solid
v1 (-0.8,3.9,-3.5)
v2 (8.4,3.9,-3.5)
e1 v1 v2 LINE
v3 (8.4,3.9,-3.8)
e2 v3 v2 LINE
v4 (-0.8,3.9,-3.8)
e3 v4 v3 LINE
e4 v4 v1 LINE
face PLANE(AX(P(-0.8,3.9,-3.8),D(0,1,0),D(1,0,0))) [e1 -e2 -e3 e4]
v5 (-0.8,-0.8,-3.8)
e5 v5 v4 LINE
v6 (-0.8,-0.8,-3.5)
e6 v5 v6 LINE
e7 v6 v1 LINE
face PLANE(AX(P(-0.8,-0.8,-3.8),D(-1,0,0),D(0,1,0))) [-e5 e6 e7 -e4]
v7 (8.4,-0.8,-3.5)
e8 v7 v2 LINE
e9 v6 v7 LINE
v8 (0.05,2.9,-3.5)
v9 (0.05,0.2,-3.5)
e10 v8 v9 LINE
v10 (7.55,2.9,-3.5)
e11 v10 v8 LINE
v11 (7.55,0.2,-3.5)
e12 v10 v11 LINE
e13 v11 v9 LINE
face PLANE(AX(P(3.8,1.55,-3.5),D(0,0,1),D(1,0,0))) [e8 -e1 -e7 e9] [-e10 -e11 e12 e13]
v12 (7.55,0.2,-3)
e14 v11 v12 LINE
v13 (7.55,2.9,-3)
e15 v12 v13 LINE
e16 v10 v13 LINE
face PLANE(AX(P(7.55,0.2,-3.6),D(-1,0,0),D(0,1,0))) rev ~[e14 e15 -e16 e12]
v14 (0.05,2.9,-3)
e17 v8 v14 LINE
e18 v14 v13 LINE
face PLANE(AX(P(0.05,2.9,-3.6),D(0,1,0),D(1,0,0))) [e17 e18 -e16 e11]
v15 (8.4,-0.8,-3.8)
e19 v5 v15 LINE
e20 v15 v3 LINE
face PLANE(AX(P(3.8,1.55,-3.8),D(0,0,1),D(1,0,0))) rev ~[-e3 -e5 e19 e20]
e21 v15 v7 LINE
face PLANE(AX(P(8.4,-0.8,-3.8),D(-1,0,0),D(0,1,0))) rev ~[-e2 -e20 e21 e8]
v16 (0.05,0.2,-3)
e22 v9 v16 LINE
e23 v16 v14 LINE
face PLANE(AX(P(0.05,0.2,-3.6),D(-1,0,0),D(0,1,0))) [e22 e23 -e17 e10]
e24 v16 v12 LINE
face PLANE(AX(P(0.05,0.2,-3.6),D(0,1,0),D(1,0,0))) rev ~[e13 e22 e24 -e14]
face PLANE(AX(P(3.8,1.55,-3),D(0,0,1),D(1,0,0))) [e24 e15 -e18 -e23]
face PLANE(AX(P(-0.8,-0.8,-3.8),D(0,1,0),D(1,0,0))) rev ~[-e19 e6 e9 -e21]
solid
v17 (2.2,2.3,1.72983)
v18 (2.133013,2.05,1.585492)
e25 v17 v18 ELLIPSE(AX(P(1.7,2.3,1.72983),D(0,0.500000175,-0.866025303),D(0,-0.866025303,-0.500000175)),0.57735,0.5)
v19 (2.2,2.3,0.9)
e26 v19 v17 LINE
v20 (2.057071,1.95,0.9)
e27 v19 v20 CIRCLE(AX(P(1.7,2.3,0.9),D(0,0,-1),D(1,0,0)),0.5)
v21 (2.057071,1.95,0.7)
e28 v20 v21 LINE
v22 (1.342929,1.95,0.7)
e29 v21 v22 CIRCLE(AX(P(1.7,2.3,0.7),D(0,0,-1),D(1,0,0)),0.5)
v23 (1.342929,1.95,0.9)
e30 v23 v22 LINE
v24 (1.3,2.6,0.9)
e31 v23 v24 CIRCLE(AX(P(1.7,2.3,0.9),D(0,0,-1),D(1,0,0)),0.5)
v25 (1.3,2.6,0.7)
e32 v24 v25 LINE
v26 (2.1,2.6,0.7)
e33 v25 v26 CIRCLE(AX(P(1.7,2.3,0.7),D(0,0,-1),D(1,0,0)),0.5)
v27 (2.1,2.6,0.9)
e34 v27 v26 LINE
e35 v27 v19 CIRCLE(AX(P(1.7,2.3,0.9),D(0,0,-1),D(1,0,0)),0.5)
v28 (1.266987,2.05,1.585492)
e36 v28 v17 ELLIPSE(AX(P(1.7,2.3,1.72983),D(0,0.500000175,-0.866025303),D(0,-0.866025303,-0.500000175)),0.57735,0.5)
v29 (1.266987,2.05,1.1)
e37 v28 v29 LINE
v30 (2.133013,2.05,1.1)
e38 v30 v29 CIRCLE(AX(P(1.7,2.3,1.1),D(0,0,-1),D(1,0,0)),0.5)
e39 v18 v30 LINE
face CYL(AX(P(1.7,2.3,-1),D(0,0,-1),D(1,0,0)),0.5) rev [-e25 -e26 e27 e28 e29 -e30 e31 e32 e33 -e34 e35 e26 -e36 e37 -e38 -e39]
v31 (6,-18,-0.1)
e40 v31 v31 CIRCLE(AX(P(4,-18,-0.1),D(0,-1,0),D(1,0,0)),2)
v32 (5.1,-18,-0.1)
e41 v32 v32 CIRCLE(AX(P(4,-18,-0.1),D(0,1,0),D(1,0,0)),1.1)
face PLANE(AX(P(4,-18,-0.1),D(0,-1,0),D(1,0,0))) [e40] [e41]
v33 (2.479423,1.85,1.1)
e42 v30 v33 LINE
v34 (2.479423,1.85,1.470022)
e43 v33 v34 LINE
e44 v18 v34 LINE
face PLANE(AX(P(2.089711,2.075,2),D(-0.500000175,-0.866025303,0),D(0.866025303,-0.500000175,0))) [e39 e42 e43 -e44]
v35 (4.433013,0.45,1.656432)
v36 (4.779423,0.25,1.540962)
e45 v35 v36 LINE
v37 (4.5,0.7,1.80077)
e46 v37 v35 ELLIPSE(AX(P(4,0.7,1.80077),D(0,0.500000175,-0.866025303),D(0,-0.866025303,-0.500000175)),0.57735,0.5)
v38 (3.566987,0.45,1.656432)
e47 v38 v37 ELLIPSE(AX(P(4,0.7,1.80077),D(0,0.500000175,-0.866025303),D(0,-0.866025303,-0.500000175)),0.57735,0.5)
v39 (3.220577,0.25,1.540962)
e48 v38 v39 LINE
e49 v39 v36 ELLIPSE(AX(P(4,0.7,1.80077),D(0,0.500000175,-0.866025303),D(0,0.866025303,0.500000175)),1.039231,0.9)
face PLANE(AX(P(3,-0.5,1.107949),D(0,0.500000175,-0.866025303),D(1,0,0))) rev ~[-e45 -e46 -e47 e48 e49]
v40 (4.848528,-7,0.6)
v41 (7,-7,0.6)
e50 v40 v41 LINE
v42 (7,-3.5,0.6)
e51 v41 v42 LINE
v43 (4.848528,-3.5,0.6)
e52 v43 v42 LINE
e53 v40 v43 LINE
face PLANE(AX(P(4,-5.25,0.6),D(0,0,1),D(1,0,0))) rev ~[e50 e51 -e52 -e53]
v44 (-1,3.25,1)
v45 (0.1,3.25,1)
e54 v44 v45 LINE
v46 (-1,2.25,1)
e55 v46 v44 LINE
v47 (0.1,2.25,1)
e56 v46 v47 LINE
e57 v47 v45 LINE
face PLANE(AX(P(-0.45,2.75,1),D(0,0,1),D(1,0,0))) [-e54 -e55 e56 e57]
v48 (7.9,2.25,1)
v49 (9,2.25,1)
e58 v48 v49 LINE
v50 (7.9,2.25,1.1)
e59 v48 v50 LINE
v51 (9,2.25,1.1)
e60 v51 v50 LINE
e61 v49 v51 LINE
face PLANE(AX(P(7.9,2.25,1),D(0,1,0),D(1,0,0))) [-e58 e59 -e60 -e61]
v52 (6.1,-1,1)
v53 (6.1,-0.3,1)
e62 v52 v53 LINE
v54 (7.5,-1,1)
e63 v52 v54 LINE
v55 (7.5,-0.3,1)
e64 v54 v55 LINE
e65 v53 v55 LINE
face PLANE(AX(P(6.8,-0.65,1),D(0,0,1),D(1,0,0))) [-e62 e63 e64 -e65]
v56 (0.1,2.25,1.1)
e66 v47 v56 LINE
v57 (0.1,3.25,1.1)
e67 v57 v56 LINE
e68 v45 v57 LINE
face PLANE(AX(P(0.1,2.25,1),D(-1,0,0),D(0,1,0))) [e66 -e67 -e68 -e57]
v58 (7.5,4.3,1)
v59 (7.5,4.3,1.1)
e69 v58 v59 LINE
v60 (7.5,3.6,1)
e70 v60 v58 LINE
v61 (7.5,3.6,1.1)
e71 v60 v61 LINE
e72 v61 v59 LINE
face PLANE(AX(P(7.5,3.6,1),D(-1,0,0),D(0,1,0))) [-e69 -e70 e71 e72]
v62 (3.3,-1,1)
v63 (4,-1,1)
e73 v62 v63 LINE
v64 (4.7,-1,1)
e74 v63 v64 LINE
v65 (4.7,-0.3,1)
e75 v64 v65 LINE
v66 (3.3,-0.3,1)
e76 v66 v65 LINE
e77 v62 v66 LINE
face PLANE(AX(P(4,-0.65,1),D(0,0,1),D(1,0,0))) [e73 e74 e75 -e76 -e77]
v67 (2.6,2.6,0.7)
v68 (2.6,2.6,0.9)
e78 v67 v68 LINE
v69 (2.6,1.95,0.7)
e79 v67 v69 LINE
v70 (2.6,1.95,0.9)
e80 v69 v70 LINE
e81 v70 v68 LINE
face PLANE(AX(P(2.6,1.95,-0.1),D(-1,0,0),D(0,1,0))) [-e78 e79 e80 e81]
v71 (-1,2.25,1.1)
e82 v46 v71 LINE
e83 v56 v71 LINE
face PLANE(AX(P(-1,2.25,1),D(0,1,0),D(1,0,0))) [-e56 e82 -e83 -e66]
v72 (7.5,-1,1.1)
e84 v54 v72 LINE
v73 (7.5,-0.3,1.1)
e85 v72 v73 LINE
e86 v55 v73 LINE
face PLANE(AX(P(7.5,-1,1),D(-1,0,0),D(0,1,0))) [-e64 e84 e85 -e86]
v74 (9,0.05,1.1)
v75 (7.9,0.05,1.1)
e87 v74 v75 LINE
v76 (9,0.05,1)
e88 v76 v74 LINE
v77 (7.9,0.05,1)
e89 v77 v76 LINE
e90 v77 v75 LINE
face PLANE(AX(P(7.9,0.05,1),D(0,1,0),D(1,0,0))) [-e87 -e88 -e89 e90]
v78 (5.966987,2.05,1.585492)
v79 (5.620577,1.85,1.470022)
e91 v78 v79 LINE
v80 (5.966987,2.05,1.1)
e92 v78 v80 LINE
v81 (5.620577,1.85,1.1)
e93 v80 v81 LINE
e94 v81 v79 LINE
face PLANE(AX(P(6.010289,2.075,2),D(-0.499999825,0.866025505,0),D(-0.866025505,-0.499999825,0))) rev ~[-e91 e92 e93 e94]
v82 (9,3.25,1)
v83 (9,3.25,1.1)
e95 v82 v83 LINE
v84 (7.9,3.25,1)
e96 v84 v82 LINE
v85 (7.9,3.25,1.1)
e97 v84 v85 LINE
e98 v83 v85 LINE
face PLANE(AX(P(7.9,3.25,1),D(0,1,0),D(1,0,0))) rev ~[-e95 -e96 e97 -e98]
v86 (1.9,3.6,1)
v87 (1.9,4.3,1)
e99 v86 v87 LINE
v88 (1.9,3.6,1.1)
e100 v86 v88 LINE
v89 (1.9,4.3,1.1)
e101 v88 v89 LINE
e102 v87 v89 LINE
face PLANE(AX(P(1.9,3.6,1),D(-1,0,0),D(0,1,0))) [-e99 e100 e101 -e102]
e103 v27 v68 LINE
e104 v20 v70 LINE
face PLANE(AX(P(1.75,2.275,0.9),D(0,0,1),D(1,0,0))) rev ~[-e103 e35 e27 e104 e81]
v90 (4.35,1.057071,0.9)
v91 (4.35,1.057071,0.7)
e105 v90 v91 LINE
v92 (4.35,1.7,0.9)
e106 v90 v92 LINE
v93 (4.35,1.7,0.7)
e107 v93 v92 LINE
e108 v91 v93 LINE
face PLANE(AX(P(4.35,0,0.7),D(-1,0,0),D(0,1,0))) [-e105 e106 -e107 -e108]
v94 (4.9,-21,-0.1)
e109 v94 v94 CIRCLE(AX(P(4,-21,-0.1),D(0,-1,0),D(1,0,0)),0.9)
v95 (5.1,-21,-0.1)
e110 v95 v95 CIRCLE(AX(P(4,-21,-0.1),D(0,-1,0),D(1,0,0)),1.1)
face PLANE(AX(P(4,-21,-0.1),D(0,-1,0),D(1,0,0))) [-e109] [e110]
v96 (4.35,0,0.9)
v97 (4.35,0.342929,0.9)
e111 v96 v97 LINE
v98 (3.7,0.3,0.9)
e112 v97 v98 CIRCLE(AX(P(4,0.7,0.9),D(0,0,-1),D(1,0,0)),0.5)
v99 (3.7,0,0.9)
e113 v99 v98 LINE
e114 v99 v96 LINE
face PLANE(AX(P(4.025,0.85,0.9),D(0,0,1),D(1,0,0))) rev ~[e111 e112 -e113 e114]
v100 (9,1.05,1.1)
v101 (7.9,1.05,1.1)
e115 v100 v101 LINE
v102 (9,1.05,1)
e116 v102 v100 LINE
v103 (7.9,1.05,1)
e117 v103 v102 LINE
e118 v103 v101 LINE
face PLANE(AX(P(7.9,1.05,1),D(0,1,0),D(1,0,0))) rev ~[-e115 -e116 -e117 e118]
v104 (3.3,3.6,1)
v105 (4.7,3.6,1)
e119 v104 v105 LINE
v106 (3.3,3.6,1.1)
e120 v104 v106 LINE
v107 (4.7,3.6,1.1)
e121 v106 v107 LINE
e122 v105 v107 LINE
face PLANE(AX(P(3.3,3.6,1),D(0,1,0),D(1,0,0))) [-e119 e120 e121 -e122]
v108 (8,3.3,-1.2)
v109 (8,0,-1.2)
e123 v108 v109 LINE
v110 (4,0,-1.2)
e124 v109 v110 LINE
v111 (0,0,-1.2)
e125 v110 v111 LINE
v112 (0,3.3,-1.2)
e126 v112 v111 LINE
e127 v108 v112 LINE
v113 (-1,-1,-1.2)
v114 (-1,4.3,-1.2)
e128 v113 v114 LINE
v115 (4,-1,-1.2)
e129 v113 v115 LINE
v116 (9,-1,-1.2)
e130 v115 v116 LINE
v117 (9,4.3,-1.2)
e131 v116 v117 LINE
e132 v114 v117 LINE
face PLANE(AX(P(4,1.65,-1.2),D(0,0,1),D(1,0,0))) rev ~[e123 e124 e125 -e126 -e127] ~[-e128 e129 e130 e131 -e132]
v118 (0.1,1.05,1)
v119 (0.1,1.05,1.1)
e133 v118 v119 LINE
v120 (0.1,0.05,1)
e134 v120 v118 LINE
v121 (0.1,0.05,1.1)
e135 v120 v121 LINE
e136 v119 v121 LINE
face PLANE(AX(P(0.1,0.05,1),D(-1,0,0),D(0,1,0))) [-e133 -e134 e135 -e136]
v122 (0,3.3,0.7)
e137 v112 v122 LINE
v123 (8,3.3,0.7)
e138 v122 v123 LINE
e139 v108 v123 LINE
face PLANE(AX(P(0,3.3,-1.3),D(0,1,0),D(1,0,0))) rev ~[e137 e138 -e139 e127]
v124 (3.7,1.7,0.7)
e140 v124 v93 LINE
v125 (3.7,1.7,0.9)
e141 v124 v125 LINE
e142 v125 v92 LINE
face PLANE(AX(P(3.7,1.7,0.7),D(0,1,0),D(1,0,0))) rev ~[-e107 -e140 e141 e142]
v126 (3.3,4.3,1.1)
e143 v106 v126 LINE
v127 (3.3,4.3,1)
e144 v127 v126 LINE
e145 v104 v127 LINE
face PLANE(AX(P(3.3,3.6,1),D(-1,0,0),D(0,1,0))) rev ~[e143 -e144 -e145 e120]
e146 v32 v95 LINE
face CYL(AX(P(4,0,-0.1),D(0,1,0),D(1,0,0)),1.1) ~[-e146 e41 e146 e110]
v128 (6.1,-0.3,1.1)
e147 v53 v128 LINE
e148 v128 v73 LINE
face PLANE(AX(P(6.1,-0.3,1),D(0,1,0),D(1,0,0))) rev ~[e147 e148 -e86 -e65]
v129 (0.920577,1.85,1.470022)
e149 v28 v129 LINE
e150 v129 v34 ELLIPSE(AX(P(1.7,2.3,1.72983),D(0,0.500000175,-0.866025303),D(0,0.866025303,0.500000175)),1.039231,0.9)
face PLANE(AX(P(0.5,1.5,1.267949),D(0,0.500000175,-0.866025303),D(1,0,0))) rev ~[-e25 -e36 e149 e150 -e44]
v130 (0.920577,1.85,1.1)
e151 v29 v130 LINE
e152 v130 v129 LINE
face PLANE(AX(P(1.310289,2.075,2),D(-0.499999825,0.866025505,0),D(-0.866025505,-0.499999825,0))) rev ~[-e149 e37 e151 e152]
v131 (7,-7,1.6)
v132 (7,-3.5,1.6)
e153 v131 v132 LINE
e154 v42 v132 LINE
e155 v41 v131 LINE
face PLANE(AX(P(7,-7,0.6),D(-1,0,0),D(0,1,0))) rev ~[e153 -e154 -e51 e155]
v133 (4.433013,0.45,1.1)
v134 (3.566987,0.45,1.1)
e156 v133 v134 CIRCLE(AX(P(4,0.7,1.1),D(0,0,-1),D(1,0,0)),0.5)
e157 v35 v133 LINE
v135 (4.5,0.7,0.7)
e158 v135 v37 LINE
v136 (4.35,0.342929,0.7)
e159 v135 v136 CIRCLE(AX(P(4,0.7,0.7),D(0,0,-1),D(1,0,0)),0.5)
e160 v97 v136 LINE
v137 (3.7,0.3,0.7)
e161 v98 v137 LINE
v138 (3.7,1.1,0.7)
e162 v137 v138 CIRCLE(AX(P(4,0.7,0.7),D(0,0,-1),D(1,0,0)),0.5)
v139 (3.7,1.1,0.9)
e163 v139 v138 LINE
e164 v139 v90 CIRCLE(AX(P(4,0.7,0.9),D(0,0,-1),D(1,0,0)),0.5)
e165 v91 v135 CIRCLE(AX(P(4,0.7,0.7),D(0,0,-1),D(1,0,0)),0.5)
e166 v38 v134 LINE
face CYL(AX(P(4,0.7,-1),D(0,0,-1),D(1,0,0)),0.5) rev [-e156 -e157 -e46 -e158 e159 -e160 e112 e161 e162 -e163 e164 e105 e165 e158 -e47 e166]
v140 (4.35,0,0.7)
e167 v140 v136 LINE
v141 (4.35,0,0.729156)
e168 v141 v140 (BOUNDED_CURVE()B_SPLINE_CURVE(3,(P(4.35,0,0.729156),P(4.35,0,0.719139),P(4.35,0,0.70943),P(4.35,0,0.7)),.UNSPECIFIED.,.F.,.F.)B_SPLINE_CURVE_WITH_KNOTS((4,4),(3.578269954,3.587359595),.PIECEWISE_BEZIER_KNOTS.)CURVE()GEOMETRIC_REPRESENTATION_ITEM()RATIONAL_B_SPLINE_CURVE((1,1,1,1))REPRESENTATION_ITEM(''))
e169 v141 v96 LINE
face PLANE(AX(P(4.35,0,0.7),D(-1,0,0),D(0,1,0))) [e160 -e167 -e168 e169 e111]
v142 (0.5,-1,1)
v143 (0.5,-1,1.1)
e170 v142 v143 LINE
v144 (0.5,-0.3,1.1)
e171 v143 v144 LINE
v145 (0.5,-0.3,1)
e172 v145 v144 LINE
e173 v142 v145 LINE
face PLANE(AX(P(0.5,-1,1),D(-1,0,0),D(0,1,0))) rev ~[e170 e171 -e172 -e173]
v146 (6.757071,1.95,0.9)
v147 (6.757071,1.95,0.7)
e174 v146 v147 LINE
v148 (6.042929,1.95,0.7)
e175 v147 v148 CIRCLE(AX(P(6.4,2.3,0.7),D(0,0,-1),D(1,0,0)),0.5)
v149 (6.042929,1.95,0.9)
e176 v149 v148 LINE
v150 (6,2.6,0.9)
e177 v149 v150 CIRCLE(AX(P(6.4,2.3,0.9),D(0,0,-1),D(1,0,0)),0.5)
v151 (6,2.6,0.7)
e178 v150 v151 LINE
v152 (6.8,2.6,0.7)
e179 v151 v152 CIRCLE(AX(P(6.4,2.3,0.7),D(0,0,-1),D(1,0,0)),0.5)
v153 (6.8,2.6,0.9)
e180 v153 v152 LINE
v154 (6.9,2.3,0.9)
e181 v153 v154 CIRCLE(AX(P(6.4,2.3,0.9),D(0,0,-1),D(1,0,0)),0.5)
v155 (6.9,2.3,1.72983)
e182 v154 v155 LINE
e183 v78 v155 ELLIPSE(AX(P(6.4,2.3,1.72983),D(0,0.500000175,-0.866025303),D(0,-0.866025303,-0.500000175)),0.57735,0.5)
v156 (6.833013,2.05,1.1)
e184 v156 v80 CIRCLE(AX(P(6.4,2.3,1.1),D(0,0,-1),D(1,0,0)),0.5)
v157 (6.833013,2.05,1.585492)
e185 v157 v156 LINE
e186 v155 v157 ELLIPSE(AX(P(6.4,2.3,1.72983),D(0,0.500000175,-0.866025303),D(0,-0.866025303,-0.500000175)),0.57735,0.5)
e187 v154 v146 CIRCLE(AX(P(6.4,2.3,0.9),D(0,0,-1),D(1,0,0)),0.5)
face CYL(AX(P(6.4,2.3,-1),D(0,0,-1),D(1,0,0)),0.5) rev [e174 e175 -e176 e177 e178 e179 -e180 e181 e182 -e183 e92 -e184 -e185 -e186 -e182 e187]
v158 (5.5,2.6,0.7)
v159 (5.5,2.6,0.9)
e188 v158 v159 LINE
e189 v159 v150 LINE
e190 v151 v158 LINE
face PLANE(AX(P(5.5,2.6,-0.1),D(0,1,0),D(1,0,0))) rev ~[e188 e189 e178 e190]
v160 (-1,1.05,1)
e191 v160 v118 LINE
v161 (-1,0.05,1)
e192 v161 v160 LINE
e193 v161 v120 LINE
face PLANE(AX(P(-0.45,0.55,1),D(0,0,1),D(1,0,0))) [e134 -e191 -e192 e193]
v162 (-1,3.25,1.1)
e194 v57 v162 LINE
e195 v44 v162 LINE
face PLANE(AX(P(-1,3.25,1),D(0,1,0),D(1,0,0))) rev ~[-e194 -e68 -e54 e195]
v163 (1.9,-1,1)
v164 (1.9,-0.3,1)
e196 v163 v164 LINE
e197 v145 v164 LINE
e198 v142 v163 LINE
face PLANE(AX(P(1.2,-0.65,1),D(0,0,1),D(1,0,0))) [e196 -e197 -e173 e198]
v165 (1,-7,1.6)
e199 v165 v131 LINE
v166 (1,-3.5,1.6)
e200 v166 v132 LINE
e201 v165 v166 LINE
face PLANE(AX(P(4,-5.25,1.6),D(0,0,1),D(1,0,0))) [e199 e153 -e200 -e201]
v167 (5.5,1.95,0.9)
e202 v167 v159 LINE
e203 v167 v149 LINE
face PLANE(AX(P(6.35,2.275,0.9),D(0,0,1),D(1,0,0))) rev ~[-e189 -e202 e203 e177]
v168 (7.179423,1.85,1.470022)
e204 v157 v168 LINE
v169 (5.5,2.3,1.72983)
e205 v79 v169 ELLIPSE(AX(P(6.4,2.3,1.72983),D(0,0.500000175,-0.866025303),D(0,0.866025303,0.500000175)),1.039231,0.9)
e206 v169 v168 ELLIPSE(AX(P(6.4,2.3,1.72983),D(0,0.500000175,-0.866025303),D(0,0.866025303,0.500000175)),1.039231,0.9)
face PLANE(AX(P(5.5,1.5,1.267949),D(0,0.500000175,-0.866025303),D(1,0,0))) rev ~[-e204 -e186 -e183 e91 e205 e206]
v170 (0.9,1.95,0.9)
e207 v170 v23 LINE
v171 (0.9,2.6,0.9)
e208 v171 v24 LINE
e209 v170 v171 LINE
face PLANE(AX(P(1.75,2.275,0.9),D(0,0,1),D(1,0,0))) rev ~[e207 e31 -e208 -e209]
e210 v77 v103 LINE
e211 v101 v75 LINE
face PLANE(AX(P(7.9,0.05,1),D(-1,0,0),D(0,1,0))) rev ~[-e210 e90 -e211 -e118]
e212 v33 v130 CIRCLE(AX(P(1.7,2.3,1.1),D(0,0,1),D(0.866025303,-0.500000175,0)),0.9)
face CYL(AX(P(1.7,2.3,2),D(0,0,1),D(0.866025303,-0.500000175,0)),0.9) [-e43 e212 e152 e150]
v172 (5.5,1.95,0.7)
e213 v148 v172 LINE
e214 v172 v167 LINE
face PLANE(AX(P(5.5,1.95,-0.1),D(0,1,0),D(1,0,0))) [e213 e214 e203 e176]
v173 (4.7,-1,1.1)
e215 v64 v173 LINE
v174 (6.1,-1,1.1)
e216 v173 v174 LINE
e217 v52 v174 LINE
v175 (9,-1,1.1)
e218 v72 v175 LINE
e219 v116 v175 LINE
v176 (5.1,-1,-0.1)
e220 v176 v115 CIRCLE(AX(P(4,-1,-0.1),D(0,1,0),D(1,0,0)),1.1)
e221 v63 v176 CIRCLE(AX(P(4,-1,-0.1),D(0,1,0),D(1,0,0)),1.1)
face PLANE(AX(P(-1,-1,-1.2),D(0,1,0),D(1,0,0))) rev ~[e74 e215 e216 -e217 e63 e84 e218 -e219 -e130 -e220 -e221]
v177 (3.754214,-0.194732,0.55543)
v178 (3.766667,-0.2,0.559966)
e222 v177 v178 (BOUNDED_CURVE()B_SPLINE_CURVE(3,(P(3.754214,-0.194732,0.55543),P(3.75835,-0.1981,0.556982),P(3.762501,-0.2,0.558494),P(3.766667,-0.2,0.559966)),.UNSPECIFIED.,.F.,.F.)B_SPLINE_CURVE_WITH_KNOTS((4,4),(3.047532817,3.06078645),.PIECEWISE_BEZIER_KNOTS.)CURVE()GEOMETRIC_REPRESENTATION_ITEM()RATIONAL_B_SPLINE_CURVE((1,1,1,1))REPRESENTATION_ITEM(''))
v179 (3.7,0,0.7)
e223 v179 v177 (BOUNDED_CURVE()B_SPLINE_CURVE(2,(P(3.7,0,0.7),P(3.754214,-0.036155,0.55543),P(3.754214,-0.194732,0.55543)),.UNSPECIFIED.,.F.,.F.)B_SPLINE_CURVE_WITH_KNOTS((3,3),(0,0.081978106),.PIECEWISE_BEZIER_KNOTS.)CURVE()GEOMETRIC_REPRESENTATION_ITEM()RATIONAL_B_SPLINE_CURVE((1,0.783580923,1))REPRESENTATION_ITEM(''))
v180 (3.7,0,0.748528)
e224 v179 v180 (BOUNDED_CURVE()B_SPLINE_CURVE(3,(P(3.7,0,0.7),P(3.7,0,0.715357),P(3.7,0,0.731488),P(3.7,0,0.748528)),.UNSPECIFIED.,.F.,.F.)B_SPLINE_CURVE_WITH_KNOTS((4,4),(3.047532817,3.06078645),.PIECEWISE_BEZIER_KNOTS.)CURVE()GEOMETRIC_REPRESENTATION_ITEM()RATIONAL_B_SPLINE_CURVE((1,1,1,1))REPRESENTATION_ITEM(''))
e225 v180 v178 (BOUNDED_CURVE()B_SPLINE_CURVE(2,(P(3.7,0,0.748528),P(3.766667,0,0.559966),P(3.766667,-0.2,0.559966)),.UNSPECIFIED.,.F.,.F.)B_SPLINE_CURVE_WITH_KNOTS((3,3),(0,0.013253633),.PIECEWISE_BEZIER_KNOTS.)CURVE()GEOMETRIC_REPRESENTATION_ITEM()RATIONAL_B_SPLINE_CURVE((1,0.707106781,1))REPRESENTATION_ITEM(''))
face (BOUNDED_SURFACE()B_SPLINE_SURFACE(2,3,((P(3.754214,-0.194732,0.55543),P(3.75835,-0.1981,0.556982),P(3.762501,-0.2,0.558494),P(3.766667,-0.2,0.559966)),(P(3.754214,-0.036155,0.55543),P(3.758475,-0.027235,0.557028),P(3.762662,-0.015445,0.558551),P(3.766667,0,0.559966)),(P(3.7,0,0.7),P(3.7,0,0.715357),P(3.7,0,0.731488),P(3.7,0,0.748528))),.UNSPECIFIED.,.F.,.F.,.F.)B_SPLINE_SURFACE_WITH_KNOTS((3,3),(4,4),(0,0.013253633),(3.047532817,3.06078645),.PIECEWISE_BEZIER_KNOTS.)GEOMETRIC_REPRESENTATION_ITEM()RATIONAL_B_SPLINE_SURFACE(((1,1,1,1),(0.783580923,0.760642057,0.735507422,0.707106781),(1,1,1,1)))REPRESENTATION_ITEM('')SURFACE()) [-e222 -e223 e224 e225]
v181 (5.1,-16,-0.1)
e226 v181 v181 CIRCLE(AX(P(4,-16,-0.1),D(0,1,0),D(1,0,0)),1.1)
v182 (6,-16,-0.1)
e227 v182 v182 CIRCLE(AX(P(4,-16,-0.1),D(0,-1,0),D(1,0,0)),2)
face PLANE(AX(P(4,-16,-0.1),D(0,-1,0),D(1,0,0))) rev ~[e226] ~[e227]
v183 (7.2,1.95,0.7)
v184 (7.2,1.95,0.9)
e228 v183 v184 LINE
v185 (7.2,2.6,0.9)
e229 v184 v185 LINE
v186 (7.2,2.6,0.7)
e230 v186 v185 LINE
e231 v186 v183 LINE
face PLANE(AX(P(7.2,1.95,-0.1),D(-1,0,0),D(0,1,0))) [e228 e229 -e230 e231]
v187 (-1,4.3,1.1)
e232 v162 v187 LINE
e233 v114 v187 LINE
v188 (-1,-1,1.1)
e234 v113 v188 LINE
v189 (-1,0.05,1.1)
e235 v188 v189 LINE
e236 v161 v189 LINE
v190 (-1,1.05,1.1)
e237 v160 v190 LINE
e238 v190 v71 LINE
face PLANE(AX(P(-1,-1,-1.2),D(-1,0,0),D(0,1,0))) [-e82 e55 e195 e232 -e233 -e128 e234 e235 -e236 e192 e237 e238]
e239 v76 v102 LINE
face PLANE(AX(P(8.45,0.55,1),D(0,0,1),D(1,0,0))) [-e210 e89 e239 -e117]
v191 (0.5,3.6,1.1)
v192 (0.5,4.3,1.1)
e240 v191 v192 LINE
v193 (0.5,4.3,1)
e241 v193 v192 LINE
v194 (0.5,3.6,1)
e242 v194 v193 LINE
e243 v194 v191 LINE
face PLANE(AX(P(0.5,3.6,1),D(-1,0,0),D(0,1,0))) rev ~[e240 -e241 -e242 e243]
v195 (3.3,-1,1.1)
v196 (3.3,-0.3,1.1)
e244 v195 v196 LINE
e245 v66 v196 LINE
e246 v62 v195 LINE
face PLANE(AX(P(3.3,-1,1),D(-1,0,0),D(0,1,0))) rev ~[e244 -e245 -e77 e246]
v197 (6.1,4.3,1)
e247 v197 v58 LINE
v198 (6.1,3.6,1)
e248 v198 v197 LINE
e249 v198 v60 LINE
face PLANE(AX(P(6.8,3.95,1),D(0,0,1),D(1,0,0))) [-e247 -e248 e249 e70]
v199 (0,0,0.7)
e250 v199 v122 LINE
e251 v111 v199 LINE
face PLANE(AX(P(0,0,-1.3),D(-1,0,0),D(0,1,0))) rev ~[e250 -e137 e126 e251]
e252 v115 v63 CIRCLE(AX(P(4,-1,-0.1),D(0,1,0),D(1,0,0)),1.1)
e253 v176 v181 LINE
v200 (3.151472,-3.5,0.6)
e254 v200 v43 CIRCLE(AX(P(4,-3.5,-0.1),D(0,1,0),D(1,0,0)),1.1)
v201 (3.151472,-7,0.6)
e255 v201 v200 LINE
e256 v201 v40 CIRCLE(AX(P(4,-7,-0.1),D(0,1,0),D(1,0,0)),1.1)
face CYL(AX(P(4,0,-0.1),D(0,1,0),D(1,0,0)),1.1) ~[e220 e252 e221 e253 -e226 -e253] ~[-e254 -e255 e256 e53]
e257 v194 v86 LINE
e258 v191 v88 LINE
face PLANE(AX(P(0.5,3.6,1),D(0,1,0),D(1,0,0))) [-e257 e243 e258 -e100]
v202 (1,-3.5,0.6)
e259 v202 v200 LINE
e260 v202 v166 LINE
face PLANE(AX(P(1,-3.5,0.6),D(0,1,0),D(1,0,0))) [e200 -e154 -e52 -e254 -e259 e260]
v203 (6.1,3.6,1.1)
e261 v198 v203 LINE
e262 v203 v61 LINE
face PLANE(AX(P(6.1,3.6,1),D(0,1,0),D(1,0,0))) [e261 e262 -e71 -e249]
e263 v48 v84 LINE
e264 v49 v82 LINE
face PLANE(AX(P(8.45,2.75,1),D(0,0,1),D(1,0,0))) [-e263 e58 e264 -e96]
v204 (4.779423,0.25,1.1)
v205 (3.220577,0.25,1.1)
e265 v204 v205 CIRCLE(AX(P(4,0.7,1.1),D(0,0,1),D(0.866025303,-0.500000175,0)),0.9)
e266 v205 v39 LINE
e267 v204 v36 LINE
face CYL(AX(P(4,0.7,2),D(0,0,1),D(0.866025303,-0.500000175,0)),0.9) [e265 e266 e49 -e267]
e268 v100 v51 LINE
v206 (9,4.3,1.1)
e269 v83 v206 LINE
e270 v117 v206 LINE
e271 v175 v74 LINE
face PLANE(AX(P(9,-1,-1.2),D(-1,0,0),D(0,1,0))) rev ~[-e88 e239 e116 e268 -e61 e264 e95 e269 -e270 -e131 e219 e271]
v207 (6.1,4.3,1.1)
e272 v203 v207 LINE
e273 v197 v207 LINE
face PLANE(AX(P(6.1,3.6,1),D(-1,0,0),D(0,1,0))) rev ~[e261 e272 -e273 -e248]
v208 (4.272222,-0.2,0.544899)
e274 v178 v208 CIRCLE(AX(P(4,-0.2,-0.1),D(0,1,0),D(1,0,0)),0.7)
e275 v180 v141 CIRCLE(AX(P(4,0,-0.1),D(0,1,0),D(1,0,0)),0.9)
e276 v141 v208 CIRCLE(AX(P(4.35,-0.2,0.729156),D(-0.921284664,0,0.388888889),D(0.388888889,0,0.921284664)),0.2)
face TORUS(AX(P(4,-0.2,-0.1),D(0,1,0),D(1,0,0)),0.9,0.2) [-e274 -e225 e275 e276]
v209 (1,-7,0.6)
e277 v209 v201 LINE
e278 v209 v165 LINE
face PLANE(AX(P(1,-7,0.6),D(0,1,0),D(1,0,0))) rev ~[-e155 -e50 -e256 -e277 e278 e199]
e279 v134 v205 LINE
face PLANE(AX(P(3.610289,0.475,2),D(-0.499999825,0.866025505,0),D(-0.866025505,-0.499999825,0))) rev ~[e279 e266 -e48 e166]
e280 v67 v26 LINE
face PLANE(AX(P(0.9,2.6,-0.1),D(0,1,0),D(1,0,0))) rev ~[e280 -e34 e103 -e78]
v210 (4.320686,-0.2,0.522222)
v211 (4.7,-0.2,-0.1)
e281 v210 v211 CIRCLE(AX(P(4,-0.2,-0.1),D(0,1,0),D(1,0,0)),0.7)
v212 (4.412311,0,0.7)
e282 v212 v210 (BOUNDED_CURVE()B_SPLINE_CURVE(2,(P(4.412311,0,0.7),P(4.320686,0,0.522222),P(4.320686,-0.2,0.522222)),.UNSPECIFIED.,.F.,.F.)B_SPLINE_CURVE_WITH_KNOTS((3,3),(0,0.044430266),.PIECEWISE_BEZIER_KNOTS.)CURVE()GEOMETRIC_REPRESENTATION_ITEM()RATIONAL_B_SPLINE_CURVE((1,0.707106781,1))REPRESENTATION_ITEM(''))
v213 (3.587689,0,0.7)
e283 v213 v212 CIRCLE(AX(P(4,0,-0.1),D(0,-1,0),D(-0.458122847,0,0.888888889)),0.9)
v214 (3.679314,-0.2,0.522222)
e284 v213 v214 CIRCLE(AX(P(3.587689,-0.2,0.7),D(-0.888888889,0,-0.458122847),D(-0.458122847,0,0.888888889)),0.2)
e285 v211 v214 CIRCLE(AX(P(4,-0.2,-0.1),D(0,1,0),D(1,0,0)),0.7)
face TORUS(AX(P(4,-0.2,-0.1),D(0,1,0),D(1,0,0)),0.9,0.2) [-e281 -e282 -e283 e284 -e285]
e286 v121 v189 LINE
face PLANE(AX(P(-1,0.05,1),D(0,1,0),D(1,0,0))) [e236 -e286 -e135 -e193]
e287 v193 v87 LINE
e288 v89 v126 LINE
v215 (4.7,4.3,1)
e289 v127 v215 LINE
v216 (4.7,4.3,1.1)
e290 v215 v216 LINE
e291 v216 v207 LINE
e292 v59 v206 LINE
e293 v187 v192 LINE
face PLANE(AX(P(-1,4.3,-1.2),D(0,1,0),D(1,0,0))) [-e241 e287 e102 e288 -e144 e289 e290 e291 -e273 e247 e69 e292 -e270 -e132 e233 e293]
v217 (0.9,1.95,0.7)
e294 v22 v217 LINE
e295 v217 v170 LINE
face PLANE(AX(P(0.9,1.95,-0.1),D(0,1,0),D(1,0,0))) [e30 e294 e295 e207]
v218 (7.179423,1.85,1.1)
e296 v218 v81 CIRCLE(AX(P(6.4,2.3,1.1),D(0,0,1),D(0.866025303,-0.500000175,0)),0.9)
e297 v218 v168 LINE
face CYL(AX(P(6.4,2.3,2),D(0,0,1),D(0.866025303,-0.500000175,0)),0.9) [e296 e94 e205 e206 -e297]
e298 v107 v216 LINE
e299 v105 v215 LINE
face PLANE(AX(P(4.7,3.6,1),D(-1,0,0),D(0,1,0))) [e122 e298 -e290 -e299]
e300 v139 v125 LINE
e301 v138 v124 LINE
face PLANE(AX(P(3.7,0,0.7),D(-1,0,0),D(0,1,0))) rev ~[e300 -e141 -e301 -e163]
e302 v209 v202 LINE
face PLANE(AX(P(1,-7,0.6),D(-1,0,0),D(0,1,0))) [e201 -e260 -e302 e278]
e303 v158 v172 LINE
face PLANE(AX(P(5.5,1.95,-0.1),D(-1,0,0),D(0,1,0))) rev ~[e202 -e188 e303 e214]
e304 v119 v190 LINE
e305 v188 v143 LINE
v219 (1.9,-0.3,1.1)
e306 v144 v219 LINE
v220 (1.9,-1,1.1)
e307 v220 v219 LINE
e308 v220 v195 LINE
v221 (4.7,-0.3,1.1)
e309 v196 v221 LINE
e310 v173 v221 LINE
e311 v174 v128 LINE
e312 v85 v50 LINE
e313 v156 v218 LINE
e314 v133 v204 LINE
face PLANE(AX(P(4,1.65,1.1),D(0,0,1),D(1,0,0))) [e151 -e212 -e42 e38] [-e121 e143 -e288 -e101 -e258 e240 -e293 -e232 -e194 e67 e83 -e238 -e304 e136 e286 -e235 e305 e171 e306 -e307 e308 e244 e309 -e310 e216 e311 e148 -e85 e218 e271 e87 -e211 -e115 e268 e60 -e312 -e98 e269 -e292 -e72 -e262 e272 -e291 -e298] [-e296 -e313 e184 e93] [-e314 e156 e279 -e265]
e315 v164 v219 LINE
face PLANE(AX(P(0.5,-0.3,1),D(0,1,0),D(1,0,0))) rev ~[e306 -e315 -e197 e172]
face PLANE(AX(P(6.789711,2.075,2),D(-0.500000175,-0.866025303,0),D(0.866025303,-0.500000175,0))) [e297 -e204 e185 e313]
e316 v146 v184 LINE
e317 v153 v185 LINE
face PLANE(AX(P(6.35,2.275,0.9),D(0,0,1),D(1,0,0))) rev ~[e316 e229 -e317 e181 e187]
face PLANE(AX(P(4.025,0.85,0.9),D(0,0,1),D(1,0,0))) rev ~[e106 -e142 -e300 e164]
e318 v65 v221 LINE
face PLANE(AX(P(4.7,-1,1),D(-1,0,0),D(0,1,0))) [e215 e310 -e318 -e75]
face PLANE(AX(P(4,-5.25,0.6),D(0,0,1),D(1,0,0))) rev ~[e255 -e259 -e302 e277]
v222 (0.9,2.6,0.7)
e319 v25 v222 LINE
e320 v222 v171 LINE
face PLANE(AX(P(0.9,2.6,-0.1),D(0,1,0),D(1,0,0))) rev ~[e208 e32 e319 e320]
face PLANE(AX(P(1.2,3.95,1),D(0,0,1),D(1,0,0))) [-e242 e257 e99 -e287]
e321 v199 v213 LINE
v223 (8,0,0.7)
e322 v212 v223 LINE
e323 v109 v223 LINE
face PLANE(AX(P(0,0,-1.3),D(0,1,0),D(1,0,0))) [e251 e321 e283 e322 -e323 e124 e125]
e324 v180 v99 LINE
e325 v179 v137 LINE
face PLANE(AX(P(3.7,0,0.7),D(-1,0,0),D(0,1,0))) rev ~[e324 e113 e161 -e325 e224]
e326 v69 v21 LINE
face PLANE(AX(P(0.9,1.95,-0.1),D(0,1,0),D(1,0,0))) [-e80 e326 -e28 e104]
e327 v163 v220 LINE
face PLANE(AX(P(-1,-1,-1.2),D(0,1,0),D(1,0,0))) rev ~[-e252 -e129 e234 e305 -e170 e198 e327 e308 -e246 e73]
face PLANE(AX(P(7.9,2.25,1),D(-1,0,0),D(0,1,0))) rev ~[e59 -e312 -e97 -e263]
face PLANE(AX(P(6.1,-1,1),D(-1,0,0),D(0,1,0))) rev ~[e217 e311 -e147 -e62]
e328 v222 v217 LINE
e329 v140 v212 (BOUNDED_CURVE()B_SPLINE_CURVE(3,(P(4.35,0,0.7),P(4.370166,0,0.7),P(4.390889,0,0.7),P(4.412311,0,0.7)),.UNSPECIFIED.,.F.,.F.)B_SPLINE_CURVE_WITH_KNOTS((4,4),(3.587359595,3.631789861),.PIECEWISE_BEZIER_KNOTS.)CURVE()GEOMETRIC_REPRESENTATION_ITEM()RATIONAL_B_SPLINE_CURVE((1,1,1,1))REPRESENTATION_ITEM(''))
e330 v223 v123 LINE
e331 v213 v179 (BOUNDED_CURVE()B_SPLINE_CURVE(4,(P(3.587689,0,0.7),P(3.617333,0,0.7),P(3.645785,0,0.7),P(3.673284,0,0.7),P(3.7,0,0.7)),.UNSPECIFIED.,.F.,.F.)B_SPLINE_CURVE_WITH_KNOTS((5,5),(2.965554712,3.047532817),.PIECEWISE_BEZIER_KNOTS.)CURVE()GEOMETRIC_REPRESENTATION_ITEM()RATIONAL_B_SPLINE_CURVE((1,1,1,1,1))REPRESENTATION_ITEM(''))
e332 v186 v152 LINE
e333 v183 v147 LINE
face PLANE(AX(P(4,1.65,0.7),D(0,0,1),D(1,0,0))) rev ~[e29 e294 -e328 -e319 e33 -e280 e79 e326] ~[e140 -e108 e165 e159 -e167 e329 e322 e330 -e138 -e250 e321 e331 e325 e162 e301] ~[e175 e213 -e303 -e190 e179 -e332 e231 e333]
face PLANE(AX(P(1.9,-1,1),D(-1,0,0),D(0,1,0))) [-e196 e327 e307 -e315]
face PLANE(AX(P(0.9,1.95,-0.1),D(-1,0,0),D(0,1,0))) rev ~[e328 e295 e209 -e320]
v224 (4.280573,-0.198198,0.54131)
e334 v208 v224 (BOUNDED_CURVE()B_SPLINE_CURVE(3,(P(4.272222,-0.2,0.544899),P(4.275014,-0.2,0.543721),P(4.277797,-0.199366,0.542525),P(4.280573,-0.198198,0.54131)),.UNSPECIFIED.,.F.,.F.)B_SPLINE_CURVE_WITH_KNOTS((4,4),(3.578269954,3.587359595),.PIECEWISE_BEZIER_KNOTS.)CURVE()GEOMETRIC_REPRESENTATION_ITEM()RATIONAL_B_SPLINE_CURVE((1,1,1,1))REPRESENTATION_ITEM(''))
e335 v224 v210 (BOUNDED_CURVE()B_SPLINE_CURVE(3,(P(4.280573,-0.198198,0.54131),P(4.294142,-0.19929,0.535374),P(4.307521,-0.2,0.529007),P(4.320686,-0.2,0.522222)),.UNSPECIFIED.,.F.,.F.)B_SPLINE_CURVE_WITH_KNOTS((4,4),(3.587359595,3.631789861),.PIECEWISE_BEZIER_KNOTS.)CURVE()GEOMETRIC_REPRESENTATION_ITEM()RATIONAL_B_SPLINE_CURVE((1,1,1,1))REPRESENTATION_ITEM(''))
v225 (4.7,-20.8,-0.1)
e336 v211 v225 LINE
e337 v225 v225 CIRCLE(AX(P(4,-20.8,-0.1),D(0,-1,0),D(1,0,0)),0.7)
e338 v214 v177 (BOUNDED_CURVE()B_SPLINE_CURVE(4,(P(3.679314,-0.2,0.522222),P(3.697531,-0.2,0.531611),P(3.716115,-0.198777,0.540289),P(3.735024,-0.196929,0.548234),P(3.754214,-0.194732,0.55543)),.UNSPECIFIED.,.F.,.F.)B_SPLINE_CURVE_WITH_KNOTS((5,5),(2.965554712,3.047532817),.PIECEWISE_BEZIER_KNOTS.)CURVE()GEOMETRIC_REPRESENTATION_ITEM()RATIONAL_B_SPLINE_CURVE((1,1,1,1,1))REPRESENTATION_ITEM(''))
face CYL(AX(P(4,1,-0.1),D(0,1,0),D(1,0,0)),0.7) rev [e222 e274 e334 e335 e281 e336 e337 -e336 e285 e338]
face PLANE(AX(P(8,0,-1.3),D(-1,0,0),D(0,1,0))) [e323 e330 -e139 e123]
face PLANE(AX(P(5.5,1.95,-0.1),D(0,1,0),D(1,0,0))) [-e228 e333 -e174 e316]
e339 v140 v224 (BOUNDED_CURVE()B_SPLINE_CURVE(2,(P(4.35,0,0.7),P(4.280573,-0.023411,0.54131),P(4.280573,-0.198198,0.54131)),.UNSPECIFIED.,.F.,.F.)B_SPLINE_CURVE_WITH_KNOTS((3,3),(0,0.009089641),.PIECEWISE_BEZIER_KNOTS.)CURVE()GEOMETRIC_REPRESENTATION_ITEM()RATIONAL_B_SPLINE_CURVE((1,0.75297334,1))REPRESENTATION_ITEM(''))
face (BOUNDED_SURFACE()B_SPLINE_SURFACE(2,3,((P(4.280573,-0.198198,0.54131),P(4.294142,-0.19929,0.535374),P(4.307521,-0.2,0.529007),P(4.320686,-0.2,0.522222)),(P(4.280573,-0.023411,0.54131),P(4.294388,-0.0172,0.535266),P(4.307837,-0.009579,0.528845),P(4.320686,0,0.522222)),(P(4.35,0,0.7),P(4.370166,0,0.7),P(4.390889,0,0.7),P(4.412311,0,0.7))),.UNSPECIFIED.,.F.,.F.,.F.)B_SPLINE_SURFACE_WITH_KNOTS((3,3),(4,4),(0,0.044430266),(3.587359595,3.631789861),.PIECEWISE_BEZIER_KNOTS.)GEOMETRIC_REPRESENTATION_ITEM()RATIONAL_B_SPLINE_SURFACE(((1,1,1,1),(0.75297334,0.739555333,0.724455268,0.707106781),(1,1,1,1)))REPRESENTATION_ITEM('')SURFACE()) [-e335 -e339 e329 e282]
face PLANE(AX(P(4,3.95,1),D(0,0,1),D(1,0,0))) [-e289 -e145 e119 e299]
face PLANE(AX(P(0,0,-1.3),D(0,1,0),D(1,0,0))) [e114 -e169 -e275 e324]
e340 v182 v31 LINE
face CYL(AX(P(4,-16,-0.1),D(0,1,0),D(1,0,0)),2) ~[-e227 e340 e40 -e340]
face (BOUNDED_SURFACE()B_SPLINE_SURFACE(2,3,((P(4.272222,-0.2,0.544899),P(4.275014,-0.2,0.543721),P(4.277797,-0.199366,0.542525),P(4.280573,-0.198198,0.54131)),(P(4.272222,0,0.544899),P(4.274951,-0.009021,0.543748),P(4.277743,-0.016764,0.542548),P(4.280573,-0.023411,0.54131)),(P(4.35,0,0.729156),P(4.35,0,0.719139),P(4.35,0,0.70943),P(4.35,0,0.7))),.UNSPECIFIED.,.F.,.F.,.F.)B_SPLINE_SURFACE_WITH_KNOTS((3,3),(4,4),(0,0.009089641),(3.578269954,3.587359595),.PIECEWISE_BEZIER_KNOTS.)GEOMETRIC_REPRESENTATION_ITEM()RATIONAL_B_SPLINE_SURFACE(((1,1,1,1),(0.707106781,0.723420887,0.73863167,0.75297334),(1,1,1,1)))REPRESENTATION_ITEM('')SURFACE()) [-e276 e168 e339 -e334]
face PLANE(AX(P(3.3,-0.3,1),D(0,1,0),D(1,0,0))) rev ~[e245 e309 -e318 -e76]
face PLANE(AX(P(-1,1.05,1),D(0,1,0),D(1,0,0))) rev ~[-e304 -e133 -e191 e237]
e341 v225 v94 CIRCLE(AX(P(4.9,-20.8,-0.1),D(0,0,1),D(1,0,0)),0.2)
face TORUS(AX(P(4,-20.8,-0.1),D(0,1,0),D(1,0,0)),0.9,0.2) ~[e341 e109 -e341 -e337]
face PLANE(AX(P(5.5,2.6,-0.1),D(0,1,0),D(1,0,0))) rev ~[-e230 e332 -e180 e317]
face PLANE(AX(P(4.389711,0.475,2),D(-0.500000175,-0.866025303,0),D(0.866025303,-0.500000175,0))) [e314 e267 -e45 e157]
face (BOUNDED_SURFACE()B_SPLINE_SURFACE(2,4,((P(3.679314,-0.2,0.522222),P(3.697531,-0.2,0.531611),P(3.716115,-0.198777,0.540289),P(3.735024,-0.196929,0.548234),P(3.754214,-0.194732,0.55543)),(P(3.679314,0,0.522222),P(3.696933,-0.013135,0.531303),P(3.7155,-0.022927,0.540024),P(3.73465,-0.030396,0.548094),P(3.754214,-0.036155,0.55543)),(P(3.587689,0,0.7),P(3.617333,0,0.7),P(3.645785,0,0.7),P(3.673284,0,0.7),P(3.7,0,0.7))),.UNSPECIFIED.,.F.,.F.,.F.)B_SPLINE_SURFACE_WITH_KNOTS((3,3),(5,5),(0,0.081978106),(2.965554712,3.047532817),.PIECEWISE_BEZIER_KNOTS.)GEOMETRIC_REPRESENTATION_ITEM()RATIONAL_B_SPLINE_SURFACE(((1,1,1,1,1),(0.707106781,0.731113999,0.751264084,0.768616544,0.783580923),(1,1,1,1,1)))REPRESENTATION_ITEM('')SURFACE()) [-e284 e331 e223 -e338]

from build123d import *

# Parameters (mm, degrees)
BOX_W                           = 10
BOX_H                           = 5.3
BOX_DEPTH                       = 2.3
CYLINDER001_W                   = 0.9
CYLINDER001_H                   = 3
CYLINDER001_ANGLE               = 240
CYLINDER_R                      = 0.5
CYLINDER_DEPTH                  = 4
CYLINDER002_W                   = 0.9
CYLINDER002_H                   = 3
CYLINDER002_ANGLE               = 240
CYLINDER003_R                   = 0.5
CYLINDER003_DEPTH               = 4
CYLINDER004_W                   = 0.9
CYLINDER004_H                   = 3
CYLINDER004_ANGLE               = 240
CYLINDER005_R                   = 0.5
CYLINDER005_DEPTH               = 4
CYLINDER009_R                   = 1.1
CYLINDER009_DEPTH               = 21
CYLINDER006_R                   = 2
CYLINDER006_DEPTH               = 2
CYLINDER007_R                   = 0.7
CYLINDER007_DEPTH               = 22
BOX003_W                        = 8
BOX003_H                        = 3.3
BOX003_DEPTH                    = 2
BOX004_W                        = 6
BOX004_H                        = 3.5
BOX004_DEPTH                    = 1
BOX005_W                        = 1.4
BOX005_H                        = 0.7
BOX005_DEPTH                    = 0.1
BOX005_LINEARPATTERN_2_W        = 1.4
BOX005_LINEARPATTERN_2_H        = 0.7
BOX005_LINEARPATTERN_2_DEPTH    = 0.1
BOX005_LINEARPATTERN_3_W        = 1.4
BOX005_LINEARPATTERN_3_H        = 0.7
BOX005_LINEARPATTERN_3_DEPTH    = 0.1
LINEARPATTERN001_COUNT          = 2
LINEARPATTERN001_PITCH          = 4.6
BOX006_W                        = 1.1
BOX006_H                        = 1
BOX006_DEPTH                    = 0.2
BOX006_LINEARPATTERN003_2_W     = 1.1
BOX006_LINEARPATTERN003_2_H     = 1
BOX006_LINEARPATTERN003_2_DEPTH = 0.2
LINEARPATTERN004_COUNT          = 2
LINEARPATTERN004_PITCH          = 2.2
BOX007_W                        = 2
BOX007_H                        = 2
BOX007_DEPTH                    = 3.3
BOX008_W                        = 2.2
BOX008_H                        = 2
BOX008_DEPTH                    = 3.3
LINEARPATTERN005_COUNT          = 2
LINEARPATTERN005_PITCH          = 5
BOX009_W                        = 1.7
BOX009_H                        = 0.65
BOX009_DEPTH                    = 1
LINEARPATTERN006_COUNT          = 2
LINEARPATTERN006_PITCH          = 4.6
BOX010_W                        = 0.65
BOX010_H                        = 1.7
BOX010_DEPTH                    = 0.2
FILLET_R                        = 0.2
FILLET001_R                     = 0.2
BOX011_W                        = 9.2
BOX011_H                        = 4.7
BOX011_DEPTH                    = 0.3
BOX012_W                        = 7.5
BOX012_H                        = 2.7
BOX012_DEPTH                    = 0.6


with BuildPart() as body:
    # Box → Box (join)
    with BuildSketch(Plane(origin=(-1, -1, -1.2), x_dir=(1, 0, 0), z_dir=(0, 0, 1))):
        with Locations((5, 2.65)):
            Rectangle(BOX_W, BOX_H)
    extrude(amount=BOX_DEPTH)

    # Cylinder001 → Cylinder001 (revolve)
    with BuildSketch(Plane(origin=(1.7, 2.3, 0.5), x_dir=(0.866025, -0.5, 0), z_dir=(-0.5, -0.866025, 0))):
        with Locations((0.45, 1.5)):
            Rectangle(CYLINDER001_W, CYLINDER001_H)
    revolve(axis=Axis((1.7, 2.3, 0.5), (0, 0, 1)), revolution_arc=CYLINDER001_ANGLE)

    # Cylinder → Cylinder (cut)
    with BuildSketch(Plane(origin=(1.7, 2.3, -1), x_dir=(1, 0, 0), z_dir=(0, 0, 1))):
        Circle(CYLINDER_R)
    extrude(amount=CYLINDER_DEPTH, mode=Mode.SUBTRACT)

    # Cylinder002 → Cylinder002 (revolve)
    with BuildSketch(Plane(origin=(6.4, 2.3, 0.5), x_dir=(0.866025, -0.5, 0), z_dir=(-0.5, -0.866025, 0))):
        with Locations((0.45, 1.5)):
            Rectangle(CYLINDER002_W, CYLINDER002_H)
    revolve(axis=Axis((6.4, 2.3, 0.5), (0, 0, 1)), revolution_arc=CYLINDER002_ANGLE)

    # Cylinder003 → Cylinder003 (cut)
    with BuildSketch(Plane(origin=(6.4, 2.3, -1), x_dir=(1, 0, 0), z_dir=(0, 0, 1))):
        Circle(CYLINDER003_R)
    extrude(amount=CYLINDER003_DEPTH, mode=Mode.SUBTRACT)

    # Cylinder004 → Cylinder004 (revolve)
    with BuildSketch(Plane(origin=(4, 0.7, 0.5), x_dir=(0.866025, -0.5, 0), z_dir=(-0.5, -0.866025, 0))):
        with Locations((0.45, 1.5)):
            Rectangle(CYLINDER004_W, CYLINDER004_H)
    revolve(axis=Axis((4, 0.7, 0.5), (0, 0, 1)), revolution_arc=CYLINDER004_ANGLE)

    # Cylinder005 → Cylinder005 (cut)
    with BuildSketch(Plane(origin=(4, 0.7, -1), x_dir=(1, 0, 0), z_dir=(0, 0, 1))):
        Circle(CYLINDER005_R)
    extrude(amount=CYLINDER005_DEPTH, mode=Mode.SUBTRACT)

    # Cylinder009 → Cylinder009 (join)
    with BuildSketch(Plane(origin=(4, 0, -0.1), x_dir=(1, 0, 0), z_dir=(0, -1, 0))):
        Circle(CYLINDER009_R)
    extrude(amount=CYLINDER009_DEPTH)

    # Cylinder006 → Cylinder006 (join)
    with BuildSketch(Plane(origin=(4, -16, -0.1), x_dir=(1, 0, 0), z_dir=(0, -1, 0))):
        Circle(CYLINDER006_R)
    extrude(amount=CYLINDER006_DEPTH)

    # Cylinder007 → Cylinder007 (cut)
    with BuildSketch(Plane(origin=(4, 1, -0.1), x_dir=(1, 0, 0), z_dir=(0, -1, 0))):
        Circle(CYLINDER007_R)
    extrude(amount=CYLINDER007_DEPTH, mode=Mode.SUBTRACT)

    # Box003 → Box003 (cut)
    with BuildSketch(Plane.XY.offset(-1.3)):
        with Locations((4, 1.65)):
            Rectangle(BOX003_W, BOX003_H)
    extrude(amount=BOX003_DEPTH, mode=Mode.SUBTRACT)

    # Box004 → Box004 (join)
    with BuildSketch(Plane(origin=(1, -7, 0.6), x_dir=(1, 0, 0), z_dir=(0, 0, 1))):
        with Locations((3, 1.75)):
            Rectangle(BOX004_W, BOX004_H)
    extrude(amount=BOX004_DEPTH)

    # Box005 → Box005 (cut)
    with BuildSketch(Plane(origin=(0.5, -1, 1), x_dir=(1, 0, 0), z_dir=(0, 0, 1))):
        with Locations((0.7, 0.35)):
            Rectangle(BOX005_W, BOX005_H)
    box005 = extrude(amount=BOX005_DEPTH, mode=Mode.SUBTRACT)

    # Box005 LinearPattern 2 → Box005 LinearPattern 2 (cut)
    with BuildSketch(Plane(origin=(3.3, -1, 1), x_dir=(1, 0, 0), z_dir=(0, 0, 1))):
        with Locations((0.7, 0.35)):
            Rectangle(BOX005_LINEARPATTERN_2_W, BOX005_LINEARPATTERN_2_H)
    box005_linearpattern_2 = extrude(amount=BOX005_LINEARPATTERN_2_DEPTH, mode=Mode.SUBTRACT)

    # Box005 LinearPattern 3 → Box005 LinearPattern 3 (cut)
    with BuildSketch(Plane(origin=(6.1, -1, 1), x_dir=(1, 0, 0), z_dir=(0, 0, 1))):
        with Locations((0.7, 0.35)):
            Rectangle(BOX005_LINEARPATTERN_3_W, BOX005_LINEARPATTERN_3_H)
    box005_linearpattern_3 = extrude(amount=BOX005_LINEARPATTERN_3_DEPTH, mode=Mode.SUBTRACT)

    # LinearPattern001: Box005, Box005 LinearPattern 2, Box005 LinearPattern 3 ×2
    with Locations(*[(0, i * LINEARPATTERN001_PITCH, 0) for i in range(1, LINEARPATTERN001_COUNT)]):
        add(box005, mode=Mode.SUBTRACT)
        add(box005_linearpattern_2, mode=Mode.SUBTRACT)
        add(box005_linearpattern_3, mode=Mode.SUBTRACT)

    # Box006 → Box006 (cut)
    with BuildSketch(Plane(origin=(-1, 0.05, 1), x_dir=(1, 0, 0), z_dir=(0, 0, 1))):
        with Locations((0.55, 0.5)):
            Rectangle(BOX006_W, BOX006_H)
    box006 = extrude(amount=BOX006_DEPTH, mode=Mode.SUBTRACT)

    # Box006 LinearPattern003 2 → Box006 LinearPattern003 2 (cut)
    with BuildSketch(Plane(origin=(7.9, 0.05, 1), x_dir=(1, 0, 0), z_dir=(0, 0, 1))):
        with Locations((0.55, 0.5)):
            Rectangle(BOX006_LINEARPATTERN003_2_W, BOX006_LINEARPATTERN003_2_H)
    box006_linearpattern003_2 = extrude(amount=BOX006_LINEARPATTERN003_2_DEPTH, mode=Mode.SUBTRACT)

    # LinearPattern004: Box006, Box006 LinearPattern003 2 ×2
    with Locations(*[(0, i * LINEARPATTERN004_PITCH, 0) for i in range(1, LINEARPATTERN004_COUNT)]):
        add(box006, mode=Mode.SUBTRACT)
        add(box006_linearpattern003_2, mode=Mode.SUBTRACT)

    # Box007 → Box007 (cut)
    with BuildSketch(Plane(origin=(3, -1.5, 2.84), x_dir=(1, 0, 0), z_dir=(0, 0.866025, 0.5))):
        with Locations((1, 1)):
            Rectangle(BOX007_W, BOX007_H)
    extrude(amount=BOX007_DEPTH, mode=Mode.SUBTRACT)

    # Box008 → Box008 (cut)
    with BuildSketch(Plane(origin=(0.5, 0.5, 3), x_dir=(1, 0, 0), z_dir=(0, 0.866025, 0.5))):
        with Locations((1.1, 1)):
            Rectangle(BOX008_W, BOX008_H)
    box008 = extrude(amount=BOX008_DEPTH, mode=Mode.SUBTRACT)

    # LinearPattern005: Box008 ×2
    with Locations(*[(i * LINEARPATTERN005_PITCH, 0, 0) for i in range(1, LINEARPATTERN005_COUNT)]):
        add(box008, mode=Mode.SUBTRACT)

    # Box009 → Box009 (cut)
    with BuildSketch(Plane(origin=(0.9, 1.95, -0.1), x_dir=(1, 0, 0), z_dir=(0, 0, 1))):
        with Locations((0.85, 0.325)):
            Rectangle(BOX009_W, BOX009_H)
    box009 = extrude(amount=BOX009_DEPTH, mode=Mode.SUBTRACT)

    # LinearPattern006: Box009 ×2
    with Locations(*[(i * LINEARPATTERN006_PITCH, 0, 0) for i in range(1, LINEARPATTERN006_COUNT)]):
        add(box009, mode=Mode.SUBTRACT)

    # Box010 → Box010 (cut)
    with BuildSketch(Plane(origin=(3.7, 0, 0.7), x_dir=(1, 0, 0), z_dir=(0, 0, 1))):
        with Locations((0.325, 0.85)):
            Rectangle(BOX010_W, BOX010_H)
    extrude(amount=BOX010_DEPTH, mode=Mode.SUBTRACT)

    # Fillet
    fillet_edges = [body.edges().sort_by_distance(p)[0] for p in [
        (3.3, 0, -0.1),
    ]]
    fillet(fillet_edges, radius=FILLET_R)

    # Fillet001
    fillet001_edges = [body.edges().sort_by_distance(p)[0] for p in [
        (3.3, -21, -0.1),
    ]]
    fillet(fillet001_edges, radius=FILLET001_R)


with BuildPart() as body001:
    # Box011 → Box011 (join)
    with BuildSketch(Plane(origin=(-0.8, -0.8, -3.8), x_dir=(1, 0, 0), z_dir=(0, 0, 1))):
        with Locations((4.6, 2.35)):
            Rectangle(BOX011_W, BOX011_H)
    extrude(amount=BOX011_DEPTH)

    # Box012 → Box012 (join)
    with BuildSketch(Plane(origin=(0.05, 0.2, -3.6), x_dir=(1, 0, 0), z_dir=(0, 0, 1))):
        with Locations((3.75, 1.35)):
            Rectangle(BOX012_W, BOX012_H)
    extrude(amount=BOX012_DEPTH)


solid = Compound([body.part, body001.part])
